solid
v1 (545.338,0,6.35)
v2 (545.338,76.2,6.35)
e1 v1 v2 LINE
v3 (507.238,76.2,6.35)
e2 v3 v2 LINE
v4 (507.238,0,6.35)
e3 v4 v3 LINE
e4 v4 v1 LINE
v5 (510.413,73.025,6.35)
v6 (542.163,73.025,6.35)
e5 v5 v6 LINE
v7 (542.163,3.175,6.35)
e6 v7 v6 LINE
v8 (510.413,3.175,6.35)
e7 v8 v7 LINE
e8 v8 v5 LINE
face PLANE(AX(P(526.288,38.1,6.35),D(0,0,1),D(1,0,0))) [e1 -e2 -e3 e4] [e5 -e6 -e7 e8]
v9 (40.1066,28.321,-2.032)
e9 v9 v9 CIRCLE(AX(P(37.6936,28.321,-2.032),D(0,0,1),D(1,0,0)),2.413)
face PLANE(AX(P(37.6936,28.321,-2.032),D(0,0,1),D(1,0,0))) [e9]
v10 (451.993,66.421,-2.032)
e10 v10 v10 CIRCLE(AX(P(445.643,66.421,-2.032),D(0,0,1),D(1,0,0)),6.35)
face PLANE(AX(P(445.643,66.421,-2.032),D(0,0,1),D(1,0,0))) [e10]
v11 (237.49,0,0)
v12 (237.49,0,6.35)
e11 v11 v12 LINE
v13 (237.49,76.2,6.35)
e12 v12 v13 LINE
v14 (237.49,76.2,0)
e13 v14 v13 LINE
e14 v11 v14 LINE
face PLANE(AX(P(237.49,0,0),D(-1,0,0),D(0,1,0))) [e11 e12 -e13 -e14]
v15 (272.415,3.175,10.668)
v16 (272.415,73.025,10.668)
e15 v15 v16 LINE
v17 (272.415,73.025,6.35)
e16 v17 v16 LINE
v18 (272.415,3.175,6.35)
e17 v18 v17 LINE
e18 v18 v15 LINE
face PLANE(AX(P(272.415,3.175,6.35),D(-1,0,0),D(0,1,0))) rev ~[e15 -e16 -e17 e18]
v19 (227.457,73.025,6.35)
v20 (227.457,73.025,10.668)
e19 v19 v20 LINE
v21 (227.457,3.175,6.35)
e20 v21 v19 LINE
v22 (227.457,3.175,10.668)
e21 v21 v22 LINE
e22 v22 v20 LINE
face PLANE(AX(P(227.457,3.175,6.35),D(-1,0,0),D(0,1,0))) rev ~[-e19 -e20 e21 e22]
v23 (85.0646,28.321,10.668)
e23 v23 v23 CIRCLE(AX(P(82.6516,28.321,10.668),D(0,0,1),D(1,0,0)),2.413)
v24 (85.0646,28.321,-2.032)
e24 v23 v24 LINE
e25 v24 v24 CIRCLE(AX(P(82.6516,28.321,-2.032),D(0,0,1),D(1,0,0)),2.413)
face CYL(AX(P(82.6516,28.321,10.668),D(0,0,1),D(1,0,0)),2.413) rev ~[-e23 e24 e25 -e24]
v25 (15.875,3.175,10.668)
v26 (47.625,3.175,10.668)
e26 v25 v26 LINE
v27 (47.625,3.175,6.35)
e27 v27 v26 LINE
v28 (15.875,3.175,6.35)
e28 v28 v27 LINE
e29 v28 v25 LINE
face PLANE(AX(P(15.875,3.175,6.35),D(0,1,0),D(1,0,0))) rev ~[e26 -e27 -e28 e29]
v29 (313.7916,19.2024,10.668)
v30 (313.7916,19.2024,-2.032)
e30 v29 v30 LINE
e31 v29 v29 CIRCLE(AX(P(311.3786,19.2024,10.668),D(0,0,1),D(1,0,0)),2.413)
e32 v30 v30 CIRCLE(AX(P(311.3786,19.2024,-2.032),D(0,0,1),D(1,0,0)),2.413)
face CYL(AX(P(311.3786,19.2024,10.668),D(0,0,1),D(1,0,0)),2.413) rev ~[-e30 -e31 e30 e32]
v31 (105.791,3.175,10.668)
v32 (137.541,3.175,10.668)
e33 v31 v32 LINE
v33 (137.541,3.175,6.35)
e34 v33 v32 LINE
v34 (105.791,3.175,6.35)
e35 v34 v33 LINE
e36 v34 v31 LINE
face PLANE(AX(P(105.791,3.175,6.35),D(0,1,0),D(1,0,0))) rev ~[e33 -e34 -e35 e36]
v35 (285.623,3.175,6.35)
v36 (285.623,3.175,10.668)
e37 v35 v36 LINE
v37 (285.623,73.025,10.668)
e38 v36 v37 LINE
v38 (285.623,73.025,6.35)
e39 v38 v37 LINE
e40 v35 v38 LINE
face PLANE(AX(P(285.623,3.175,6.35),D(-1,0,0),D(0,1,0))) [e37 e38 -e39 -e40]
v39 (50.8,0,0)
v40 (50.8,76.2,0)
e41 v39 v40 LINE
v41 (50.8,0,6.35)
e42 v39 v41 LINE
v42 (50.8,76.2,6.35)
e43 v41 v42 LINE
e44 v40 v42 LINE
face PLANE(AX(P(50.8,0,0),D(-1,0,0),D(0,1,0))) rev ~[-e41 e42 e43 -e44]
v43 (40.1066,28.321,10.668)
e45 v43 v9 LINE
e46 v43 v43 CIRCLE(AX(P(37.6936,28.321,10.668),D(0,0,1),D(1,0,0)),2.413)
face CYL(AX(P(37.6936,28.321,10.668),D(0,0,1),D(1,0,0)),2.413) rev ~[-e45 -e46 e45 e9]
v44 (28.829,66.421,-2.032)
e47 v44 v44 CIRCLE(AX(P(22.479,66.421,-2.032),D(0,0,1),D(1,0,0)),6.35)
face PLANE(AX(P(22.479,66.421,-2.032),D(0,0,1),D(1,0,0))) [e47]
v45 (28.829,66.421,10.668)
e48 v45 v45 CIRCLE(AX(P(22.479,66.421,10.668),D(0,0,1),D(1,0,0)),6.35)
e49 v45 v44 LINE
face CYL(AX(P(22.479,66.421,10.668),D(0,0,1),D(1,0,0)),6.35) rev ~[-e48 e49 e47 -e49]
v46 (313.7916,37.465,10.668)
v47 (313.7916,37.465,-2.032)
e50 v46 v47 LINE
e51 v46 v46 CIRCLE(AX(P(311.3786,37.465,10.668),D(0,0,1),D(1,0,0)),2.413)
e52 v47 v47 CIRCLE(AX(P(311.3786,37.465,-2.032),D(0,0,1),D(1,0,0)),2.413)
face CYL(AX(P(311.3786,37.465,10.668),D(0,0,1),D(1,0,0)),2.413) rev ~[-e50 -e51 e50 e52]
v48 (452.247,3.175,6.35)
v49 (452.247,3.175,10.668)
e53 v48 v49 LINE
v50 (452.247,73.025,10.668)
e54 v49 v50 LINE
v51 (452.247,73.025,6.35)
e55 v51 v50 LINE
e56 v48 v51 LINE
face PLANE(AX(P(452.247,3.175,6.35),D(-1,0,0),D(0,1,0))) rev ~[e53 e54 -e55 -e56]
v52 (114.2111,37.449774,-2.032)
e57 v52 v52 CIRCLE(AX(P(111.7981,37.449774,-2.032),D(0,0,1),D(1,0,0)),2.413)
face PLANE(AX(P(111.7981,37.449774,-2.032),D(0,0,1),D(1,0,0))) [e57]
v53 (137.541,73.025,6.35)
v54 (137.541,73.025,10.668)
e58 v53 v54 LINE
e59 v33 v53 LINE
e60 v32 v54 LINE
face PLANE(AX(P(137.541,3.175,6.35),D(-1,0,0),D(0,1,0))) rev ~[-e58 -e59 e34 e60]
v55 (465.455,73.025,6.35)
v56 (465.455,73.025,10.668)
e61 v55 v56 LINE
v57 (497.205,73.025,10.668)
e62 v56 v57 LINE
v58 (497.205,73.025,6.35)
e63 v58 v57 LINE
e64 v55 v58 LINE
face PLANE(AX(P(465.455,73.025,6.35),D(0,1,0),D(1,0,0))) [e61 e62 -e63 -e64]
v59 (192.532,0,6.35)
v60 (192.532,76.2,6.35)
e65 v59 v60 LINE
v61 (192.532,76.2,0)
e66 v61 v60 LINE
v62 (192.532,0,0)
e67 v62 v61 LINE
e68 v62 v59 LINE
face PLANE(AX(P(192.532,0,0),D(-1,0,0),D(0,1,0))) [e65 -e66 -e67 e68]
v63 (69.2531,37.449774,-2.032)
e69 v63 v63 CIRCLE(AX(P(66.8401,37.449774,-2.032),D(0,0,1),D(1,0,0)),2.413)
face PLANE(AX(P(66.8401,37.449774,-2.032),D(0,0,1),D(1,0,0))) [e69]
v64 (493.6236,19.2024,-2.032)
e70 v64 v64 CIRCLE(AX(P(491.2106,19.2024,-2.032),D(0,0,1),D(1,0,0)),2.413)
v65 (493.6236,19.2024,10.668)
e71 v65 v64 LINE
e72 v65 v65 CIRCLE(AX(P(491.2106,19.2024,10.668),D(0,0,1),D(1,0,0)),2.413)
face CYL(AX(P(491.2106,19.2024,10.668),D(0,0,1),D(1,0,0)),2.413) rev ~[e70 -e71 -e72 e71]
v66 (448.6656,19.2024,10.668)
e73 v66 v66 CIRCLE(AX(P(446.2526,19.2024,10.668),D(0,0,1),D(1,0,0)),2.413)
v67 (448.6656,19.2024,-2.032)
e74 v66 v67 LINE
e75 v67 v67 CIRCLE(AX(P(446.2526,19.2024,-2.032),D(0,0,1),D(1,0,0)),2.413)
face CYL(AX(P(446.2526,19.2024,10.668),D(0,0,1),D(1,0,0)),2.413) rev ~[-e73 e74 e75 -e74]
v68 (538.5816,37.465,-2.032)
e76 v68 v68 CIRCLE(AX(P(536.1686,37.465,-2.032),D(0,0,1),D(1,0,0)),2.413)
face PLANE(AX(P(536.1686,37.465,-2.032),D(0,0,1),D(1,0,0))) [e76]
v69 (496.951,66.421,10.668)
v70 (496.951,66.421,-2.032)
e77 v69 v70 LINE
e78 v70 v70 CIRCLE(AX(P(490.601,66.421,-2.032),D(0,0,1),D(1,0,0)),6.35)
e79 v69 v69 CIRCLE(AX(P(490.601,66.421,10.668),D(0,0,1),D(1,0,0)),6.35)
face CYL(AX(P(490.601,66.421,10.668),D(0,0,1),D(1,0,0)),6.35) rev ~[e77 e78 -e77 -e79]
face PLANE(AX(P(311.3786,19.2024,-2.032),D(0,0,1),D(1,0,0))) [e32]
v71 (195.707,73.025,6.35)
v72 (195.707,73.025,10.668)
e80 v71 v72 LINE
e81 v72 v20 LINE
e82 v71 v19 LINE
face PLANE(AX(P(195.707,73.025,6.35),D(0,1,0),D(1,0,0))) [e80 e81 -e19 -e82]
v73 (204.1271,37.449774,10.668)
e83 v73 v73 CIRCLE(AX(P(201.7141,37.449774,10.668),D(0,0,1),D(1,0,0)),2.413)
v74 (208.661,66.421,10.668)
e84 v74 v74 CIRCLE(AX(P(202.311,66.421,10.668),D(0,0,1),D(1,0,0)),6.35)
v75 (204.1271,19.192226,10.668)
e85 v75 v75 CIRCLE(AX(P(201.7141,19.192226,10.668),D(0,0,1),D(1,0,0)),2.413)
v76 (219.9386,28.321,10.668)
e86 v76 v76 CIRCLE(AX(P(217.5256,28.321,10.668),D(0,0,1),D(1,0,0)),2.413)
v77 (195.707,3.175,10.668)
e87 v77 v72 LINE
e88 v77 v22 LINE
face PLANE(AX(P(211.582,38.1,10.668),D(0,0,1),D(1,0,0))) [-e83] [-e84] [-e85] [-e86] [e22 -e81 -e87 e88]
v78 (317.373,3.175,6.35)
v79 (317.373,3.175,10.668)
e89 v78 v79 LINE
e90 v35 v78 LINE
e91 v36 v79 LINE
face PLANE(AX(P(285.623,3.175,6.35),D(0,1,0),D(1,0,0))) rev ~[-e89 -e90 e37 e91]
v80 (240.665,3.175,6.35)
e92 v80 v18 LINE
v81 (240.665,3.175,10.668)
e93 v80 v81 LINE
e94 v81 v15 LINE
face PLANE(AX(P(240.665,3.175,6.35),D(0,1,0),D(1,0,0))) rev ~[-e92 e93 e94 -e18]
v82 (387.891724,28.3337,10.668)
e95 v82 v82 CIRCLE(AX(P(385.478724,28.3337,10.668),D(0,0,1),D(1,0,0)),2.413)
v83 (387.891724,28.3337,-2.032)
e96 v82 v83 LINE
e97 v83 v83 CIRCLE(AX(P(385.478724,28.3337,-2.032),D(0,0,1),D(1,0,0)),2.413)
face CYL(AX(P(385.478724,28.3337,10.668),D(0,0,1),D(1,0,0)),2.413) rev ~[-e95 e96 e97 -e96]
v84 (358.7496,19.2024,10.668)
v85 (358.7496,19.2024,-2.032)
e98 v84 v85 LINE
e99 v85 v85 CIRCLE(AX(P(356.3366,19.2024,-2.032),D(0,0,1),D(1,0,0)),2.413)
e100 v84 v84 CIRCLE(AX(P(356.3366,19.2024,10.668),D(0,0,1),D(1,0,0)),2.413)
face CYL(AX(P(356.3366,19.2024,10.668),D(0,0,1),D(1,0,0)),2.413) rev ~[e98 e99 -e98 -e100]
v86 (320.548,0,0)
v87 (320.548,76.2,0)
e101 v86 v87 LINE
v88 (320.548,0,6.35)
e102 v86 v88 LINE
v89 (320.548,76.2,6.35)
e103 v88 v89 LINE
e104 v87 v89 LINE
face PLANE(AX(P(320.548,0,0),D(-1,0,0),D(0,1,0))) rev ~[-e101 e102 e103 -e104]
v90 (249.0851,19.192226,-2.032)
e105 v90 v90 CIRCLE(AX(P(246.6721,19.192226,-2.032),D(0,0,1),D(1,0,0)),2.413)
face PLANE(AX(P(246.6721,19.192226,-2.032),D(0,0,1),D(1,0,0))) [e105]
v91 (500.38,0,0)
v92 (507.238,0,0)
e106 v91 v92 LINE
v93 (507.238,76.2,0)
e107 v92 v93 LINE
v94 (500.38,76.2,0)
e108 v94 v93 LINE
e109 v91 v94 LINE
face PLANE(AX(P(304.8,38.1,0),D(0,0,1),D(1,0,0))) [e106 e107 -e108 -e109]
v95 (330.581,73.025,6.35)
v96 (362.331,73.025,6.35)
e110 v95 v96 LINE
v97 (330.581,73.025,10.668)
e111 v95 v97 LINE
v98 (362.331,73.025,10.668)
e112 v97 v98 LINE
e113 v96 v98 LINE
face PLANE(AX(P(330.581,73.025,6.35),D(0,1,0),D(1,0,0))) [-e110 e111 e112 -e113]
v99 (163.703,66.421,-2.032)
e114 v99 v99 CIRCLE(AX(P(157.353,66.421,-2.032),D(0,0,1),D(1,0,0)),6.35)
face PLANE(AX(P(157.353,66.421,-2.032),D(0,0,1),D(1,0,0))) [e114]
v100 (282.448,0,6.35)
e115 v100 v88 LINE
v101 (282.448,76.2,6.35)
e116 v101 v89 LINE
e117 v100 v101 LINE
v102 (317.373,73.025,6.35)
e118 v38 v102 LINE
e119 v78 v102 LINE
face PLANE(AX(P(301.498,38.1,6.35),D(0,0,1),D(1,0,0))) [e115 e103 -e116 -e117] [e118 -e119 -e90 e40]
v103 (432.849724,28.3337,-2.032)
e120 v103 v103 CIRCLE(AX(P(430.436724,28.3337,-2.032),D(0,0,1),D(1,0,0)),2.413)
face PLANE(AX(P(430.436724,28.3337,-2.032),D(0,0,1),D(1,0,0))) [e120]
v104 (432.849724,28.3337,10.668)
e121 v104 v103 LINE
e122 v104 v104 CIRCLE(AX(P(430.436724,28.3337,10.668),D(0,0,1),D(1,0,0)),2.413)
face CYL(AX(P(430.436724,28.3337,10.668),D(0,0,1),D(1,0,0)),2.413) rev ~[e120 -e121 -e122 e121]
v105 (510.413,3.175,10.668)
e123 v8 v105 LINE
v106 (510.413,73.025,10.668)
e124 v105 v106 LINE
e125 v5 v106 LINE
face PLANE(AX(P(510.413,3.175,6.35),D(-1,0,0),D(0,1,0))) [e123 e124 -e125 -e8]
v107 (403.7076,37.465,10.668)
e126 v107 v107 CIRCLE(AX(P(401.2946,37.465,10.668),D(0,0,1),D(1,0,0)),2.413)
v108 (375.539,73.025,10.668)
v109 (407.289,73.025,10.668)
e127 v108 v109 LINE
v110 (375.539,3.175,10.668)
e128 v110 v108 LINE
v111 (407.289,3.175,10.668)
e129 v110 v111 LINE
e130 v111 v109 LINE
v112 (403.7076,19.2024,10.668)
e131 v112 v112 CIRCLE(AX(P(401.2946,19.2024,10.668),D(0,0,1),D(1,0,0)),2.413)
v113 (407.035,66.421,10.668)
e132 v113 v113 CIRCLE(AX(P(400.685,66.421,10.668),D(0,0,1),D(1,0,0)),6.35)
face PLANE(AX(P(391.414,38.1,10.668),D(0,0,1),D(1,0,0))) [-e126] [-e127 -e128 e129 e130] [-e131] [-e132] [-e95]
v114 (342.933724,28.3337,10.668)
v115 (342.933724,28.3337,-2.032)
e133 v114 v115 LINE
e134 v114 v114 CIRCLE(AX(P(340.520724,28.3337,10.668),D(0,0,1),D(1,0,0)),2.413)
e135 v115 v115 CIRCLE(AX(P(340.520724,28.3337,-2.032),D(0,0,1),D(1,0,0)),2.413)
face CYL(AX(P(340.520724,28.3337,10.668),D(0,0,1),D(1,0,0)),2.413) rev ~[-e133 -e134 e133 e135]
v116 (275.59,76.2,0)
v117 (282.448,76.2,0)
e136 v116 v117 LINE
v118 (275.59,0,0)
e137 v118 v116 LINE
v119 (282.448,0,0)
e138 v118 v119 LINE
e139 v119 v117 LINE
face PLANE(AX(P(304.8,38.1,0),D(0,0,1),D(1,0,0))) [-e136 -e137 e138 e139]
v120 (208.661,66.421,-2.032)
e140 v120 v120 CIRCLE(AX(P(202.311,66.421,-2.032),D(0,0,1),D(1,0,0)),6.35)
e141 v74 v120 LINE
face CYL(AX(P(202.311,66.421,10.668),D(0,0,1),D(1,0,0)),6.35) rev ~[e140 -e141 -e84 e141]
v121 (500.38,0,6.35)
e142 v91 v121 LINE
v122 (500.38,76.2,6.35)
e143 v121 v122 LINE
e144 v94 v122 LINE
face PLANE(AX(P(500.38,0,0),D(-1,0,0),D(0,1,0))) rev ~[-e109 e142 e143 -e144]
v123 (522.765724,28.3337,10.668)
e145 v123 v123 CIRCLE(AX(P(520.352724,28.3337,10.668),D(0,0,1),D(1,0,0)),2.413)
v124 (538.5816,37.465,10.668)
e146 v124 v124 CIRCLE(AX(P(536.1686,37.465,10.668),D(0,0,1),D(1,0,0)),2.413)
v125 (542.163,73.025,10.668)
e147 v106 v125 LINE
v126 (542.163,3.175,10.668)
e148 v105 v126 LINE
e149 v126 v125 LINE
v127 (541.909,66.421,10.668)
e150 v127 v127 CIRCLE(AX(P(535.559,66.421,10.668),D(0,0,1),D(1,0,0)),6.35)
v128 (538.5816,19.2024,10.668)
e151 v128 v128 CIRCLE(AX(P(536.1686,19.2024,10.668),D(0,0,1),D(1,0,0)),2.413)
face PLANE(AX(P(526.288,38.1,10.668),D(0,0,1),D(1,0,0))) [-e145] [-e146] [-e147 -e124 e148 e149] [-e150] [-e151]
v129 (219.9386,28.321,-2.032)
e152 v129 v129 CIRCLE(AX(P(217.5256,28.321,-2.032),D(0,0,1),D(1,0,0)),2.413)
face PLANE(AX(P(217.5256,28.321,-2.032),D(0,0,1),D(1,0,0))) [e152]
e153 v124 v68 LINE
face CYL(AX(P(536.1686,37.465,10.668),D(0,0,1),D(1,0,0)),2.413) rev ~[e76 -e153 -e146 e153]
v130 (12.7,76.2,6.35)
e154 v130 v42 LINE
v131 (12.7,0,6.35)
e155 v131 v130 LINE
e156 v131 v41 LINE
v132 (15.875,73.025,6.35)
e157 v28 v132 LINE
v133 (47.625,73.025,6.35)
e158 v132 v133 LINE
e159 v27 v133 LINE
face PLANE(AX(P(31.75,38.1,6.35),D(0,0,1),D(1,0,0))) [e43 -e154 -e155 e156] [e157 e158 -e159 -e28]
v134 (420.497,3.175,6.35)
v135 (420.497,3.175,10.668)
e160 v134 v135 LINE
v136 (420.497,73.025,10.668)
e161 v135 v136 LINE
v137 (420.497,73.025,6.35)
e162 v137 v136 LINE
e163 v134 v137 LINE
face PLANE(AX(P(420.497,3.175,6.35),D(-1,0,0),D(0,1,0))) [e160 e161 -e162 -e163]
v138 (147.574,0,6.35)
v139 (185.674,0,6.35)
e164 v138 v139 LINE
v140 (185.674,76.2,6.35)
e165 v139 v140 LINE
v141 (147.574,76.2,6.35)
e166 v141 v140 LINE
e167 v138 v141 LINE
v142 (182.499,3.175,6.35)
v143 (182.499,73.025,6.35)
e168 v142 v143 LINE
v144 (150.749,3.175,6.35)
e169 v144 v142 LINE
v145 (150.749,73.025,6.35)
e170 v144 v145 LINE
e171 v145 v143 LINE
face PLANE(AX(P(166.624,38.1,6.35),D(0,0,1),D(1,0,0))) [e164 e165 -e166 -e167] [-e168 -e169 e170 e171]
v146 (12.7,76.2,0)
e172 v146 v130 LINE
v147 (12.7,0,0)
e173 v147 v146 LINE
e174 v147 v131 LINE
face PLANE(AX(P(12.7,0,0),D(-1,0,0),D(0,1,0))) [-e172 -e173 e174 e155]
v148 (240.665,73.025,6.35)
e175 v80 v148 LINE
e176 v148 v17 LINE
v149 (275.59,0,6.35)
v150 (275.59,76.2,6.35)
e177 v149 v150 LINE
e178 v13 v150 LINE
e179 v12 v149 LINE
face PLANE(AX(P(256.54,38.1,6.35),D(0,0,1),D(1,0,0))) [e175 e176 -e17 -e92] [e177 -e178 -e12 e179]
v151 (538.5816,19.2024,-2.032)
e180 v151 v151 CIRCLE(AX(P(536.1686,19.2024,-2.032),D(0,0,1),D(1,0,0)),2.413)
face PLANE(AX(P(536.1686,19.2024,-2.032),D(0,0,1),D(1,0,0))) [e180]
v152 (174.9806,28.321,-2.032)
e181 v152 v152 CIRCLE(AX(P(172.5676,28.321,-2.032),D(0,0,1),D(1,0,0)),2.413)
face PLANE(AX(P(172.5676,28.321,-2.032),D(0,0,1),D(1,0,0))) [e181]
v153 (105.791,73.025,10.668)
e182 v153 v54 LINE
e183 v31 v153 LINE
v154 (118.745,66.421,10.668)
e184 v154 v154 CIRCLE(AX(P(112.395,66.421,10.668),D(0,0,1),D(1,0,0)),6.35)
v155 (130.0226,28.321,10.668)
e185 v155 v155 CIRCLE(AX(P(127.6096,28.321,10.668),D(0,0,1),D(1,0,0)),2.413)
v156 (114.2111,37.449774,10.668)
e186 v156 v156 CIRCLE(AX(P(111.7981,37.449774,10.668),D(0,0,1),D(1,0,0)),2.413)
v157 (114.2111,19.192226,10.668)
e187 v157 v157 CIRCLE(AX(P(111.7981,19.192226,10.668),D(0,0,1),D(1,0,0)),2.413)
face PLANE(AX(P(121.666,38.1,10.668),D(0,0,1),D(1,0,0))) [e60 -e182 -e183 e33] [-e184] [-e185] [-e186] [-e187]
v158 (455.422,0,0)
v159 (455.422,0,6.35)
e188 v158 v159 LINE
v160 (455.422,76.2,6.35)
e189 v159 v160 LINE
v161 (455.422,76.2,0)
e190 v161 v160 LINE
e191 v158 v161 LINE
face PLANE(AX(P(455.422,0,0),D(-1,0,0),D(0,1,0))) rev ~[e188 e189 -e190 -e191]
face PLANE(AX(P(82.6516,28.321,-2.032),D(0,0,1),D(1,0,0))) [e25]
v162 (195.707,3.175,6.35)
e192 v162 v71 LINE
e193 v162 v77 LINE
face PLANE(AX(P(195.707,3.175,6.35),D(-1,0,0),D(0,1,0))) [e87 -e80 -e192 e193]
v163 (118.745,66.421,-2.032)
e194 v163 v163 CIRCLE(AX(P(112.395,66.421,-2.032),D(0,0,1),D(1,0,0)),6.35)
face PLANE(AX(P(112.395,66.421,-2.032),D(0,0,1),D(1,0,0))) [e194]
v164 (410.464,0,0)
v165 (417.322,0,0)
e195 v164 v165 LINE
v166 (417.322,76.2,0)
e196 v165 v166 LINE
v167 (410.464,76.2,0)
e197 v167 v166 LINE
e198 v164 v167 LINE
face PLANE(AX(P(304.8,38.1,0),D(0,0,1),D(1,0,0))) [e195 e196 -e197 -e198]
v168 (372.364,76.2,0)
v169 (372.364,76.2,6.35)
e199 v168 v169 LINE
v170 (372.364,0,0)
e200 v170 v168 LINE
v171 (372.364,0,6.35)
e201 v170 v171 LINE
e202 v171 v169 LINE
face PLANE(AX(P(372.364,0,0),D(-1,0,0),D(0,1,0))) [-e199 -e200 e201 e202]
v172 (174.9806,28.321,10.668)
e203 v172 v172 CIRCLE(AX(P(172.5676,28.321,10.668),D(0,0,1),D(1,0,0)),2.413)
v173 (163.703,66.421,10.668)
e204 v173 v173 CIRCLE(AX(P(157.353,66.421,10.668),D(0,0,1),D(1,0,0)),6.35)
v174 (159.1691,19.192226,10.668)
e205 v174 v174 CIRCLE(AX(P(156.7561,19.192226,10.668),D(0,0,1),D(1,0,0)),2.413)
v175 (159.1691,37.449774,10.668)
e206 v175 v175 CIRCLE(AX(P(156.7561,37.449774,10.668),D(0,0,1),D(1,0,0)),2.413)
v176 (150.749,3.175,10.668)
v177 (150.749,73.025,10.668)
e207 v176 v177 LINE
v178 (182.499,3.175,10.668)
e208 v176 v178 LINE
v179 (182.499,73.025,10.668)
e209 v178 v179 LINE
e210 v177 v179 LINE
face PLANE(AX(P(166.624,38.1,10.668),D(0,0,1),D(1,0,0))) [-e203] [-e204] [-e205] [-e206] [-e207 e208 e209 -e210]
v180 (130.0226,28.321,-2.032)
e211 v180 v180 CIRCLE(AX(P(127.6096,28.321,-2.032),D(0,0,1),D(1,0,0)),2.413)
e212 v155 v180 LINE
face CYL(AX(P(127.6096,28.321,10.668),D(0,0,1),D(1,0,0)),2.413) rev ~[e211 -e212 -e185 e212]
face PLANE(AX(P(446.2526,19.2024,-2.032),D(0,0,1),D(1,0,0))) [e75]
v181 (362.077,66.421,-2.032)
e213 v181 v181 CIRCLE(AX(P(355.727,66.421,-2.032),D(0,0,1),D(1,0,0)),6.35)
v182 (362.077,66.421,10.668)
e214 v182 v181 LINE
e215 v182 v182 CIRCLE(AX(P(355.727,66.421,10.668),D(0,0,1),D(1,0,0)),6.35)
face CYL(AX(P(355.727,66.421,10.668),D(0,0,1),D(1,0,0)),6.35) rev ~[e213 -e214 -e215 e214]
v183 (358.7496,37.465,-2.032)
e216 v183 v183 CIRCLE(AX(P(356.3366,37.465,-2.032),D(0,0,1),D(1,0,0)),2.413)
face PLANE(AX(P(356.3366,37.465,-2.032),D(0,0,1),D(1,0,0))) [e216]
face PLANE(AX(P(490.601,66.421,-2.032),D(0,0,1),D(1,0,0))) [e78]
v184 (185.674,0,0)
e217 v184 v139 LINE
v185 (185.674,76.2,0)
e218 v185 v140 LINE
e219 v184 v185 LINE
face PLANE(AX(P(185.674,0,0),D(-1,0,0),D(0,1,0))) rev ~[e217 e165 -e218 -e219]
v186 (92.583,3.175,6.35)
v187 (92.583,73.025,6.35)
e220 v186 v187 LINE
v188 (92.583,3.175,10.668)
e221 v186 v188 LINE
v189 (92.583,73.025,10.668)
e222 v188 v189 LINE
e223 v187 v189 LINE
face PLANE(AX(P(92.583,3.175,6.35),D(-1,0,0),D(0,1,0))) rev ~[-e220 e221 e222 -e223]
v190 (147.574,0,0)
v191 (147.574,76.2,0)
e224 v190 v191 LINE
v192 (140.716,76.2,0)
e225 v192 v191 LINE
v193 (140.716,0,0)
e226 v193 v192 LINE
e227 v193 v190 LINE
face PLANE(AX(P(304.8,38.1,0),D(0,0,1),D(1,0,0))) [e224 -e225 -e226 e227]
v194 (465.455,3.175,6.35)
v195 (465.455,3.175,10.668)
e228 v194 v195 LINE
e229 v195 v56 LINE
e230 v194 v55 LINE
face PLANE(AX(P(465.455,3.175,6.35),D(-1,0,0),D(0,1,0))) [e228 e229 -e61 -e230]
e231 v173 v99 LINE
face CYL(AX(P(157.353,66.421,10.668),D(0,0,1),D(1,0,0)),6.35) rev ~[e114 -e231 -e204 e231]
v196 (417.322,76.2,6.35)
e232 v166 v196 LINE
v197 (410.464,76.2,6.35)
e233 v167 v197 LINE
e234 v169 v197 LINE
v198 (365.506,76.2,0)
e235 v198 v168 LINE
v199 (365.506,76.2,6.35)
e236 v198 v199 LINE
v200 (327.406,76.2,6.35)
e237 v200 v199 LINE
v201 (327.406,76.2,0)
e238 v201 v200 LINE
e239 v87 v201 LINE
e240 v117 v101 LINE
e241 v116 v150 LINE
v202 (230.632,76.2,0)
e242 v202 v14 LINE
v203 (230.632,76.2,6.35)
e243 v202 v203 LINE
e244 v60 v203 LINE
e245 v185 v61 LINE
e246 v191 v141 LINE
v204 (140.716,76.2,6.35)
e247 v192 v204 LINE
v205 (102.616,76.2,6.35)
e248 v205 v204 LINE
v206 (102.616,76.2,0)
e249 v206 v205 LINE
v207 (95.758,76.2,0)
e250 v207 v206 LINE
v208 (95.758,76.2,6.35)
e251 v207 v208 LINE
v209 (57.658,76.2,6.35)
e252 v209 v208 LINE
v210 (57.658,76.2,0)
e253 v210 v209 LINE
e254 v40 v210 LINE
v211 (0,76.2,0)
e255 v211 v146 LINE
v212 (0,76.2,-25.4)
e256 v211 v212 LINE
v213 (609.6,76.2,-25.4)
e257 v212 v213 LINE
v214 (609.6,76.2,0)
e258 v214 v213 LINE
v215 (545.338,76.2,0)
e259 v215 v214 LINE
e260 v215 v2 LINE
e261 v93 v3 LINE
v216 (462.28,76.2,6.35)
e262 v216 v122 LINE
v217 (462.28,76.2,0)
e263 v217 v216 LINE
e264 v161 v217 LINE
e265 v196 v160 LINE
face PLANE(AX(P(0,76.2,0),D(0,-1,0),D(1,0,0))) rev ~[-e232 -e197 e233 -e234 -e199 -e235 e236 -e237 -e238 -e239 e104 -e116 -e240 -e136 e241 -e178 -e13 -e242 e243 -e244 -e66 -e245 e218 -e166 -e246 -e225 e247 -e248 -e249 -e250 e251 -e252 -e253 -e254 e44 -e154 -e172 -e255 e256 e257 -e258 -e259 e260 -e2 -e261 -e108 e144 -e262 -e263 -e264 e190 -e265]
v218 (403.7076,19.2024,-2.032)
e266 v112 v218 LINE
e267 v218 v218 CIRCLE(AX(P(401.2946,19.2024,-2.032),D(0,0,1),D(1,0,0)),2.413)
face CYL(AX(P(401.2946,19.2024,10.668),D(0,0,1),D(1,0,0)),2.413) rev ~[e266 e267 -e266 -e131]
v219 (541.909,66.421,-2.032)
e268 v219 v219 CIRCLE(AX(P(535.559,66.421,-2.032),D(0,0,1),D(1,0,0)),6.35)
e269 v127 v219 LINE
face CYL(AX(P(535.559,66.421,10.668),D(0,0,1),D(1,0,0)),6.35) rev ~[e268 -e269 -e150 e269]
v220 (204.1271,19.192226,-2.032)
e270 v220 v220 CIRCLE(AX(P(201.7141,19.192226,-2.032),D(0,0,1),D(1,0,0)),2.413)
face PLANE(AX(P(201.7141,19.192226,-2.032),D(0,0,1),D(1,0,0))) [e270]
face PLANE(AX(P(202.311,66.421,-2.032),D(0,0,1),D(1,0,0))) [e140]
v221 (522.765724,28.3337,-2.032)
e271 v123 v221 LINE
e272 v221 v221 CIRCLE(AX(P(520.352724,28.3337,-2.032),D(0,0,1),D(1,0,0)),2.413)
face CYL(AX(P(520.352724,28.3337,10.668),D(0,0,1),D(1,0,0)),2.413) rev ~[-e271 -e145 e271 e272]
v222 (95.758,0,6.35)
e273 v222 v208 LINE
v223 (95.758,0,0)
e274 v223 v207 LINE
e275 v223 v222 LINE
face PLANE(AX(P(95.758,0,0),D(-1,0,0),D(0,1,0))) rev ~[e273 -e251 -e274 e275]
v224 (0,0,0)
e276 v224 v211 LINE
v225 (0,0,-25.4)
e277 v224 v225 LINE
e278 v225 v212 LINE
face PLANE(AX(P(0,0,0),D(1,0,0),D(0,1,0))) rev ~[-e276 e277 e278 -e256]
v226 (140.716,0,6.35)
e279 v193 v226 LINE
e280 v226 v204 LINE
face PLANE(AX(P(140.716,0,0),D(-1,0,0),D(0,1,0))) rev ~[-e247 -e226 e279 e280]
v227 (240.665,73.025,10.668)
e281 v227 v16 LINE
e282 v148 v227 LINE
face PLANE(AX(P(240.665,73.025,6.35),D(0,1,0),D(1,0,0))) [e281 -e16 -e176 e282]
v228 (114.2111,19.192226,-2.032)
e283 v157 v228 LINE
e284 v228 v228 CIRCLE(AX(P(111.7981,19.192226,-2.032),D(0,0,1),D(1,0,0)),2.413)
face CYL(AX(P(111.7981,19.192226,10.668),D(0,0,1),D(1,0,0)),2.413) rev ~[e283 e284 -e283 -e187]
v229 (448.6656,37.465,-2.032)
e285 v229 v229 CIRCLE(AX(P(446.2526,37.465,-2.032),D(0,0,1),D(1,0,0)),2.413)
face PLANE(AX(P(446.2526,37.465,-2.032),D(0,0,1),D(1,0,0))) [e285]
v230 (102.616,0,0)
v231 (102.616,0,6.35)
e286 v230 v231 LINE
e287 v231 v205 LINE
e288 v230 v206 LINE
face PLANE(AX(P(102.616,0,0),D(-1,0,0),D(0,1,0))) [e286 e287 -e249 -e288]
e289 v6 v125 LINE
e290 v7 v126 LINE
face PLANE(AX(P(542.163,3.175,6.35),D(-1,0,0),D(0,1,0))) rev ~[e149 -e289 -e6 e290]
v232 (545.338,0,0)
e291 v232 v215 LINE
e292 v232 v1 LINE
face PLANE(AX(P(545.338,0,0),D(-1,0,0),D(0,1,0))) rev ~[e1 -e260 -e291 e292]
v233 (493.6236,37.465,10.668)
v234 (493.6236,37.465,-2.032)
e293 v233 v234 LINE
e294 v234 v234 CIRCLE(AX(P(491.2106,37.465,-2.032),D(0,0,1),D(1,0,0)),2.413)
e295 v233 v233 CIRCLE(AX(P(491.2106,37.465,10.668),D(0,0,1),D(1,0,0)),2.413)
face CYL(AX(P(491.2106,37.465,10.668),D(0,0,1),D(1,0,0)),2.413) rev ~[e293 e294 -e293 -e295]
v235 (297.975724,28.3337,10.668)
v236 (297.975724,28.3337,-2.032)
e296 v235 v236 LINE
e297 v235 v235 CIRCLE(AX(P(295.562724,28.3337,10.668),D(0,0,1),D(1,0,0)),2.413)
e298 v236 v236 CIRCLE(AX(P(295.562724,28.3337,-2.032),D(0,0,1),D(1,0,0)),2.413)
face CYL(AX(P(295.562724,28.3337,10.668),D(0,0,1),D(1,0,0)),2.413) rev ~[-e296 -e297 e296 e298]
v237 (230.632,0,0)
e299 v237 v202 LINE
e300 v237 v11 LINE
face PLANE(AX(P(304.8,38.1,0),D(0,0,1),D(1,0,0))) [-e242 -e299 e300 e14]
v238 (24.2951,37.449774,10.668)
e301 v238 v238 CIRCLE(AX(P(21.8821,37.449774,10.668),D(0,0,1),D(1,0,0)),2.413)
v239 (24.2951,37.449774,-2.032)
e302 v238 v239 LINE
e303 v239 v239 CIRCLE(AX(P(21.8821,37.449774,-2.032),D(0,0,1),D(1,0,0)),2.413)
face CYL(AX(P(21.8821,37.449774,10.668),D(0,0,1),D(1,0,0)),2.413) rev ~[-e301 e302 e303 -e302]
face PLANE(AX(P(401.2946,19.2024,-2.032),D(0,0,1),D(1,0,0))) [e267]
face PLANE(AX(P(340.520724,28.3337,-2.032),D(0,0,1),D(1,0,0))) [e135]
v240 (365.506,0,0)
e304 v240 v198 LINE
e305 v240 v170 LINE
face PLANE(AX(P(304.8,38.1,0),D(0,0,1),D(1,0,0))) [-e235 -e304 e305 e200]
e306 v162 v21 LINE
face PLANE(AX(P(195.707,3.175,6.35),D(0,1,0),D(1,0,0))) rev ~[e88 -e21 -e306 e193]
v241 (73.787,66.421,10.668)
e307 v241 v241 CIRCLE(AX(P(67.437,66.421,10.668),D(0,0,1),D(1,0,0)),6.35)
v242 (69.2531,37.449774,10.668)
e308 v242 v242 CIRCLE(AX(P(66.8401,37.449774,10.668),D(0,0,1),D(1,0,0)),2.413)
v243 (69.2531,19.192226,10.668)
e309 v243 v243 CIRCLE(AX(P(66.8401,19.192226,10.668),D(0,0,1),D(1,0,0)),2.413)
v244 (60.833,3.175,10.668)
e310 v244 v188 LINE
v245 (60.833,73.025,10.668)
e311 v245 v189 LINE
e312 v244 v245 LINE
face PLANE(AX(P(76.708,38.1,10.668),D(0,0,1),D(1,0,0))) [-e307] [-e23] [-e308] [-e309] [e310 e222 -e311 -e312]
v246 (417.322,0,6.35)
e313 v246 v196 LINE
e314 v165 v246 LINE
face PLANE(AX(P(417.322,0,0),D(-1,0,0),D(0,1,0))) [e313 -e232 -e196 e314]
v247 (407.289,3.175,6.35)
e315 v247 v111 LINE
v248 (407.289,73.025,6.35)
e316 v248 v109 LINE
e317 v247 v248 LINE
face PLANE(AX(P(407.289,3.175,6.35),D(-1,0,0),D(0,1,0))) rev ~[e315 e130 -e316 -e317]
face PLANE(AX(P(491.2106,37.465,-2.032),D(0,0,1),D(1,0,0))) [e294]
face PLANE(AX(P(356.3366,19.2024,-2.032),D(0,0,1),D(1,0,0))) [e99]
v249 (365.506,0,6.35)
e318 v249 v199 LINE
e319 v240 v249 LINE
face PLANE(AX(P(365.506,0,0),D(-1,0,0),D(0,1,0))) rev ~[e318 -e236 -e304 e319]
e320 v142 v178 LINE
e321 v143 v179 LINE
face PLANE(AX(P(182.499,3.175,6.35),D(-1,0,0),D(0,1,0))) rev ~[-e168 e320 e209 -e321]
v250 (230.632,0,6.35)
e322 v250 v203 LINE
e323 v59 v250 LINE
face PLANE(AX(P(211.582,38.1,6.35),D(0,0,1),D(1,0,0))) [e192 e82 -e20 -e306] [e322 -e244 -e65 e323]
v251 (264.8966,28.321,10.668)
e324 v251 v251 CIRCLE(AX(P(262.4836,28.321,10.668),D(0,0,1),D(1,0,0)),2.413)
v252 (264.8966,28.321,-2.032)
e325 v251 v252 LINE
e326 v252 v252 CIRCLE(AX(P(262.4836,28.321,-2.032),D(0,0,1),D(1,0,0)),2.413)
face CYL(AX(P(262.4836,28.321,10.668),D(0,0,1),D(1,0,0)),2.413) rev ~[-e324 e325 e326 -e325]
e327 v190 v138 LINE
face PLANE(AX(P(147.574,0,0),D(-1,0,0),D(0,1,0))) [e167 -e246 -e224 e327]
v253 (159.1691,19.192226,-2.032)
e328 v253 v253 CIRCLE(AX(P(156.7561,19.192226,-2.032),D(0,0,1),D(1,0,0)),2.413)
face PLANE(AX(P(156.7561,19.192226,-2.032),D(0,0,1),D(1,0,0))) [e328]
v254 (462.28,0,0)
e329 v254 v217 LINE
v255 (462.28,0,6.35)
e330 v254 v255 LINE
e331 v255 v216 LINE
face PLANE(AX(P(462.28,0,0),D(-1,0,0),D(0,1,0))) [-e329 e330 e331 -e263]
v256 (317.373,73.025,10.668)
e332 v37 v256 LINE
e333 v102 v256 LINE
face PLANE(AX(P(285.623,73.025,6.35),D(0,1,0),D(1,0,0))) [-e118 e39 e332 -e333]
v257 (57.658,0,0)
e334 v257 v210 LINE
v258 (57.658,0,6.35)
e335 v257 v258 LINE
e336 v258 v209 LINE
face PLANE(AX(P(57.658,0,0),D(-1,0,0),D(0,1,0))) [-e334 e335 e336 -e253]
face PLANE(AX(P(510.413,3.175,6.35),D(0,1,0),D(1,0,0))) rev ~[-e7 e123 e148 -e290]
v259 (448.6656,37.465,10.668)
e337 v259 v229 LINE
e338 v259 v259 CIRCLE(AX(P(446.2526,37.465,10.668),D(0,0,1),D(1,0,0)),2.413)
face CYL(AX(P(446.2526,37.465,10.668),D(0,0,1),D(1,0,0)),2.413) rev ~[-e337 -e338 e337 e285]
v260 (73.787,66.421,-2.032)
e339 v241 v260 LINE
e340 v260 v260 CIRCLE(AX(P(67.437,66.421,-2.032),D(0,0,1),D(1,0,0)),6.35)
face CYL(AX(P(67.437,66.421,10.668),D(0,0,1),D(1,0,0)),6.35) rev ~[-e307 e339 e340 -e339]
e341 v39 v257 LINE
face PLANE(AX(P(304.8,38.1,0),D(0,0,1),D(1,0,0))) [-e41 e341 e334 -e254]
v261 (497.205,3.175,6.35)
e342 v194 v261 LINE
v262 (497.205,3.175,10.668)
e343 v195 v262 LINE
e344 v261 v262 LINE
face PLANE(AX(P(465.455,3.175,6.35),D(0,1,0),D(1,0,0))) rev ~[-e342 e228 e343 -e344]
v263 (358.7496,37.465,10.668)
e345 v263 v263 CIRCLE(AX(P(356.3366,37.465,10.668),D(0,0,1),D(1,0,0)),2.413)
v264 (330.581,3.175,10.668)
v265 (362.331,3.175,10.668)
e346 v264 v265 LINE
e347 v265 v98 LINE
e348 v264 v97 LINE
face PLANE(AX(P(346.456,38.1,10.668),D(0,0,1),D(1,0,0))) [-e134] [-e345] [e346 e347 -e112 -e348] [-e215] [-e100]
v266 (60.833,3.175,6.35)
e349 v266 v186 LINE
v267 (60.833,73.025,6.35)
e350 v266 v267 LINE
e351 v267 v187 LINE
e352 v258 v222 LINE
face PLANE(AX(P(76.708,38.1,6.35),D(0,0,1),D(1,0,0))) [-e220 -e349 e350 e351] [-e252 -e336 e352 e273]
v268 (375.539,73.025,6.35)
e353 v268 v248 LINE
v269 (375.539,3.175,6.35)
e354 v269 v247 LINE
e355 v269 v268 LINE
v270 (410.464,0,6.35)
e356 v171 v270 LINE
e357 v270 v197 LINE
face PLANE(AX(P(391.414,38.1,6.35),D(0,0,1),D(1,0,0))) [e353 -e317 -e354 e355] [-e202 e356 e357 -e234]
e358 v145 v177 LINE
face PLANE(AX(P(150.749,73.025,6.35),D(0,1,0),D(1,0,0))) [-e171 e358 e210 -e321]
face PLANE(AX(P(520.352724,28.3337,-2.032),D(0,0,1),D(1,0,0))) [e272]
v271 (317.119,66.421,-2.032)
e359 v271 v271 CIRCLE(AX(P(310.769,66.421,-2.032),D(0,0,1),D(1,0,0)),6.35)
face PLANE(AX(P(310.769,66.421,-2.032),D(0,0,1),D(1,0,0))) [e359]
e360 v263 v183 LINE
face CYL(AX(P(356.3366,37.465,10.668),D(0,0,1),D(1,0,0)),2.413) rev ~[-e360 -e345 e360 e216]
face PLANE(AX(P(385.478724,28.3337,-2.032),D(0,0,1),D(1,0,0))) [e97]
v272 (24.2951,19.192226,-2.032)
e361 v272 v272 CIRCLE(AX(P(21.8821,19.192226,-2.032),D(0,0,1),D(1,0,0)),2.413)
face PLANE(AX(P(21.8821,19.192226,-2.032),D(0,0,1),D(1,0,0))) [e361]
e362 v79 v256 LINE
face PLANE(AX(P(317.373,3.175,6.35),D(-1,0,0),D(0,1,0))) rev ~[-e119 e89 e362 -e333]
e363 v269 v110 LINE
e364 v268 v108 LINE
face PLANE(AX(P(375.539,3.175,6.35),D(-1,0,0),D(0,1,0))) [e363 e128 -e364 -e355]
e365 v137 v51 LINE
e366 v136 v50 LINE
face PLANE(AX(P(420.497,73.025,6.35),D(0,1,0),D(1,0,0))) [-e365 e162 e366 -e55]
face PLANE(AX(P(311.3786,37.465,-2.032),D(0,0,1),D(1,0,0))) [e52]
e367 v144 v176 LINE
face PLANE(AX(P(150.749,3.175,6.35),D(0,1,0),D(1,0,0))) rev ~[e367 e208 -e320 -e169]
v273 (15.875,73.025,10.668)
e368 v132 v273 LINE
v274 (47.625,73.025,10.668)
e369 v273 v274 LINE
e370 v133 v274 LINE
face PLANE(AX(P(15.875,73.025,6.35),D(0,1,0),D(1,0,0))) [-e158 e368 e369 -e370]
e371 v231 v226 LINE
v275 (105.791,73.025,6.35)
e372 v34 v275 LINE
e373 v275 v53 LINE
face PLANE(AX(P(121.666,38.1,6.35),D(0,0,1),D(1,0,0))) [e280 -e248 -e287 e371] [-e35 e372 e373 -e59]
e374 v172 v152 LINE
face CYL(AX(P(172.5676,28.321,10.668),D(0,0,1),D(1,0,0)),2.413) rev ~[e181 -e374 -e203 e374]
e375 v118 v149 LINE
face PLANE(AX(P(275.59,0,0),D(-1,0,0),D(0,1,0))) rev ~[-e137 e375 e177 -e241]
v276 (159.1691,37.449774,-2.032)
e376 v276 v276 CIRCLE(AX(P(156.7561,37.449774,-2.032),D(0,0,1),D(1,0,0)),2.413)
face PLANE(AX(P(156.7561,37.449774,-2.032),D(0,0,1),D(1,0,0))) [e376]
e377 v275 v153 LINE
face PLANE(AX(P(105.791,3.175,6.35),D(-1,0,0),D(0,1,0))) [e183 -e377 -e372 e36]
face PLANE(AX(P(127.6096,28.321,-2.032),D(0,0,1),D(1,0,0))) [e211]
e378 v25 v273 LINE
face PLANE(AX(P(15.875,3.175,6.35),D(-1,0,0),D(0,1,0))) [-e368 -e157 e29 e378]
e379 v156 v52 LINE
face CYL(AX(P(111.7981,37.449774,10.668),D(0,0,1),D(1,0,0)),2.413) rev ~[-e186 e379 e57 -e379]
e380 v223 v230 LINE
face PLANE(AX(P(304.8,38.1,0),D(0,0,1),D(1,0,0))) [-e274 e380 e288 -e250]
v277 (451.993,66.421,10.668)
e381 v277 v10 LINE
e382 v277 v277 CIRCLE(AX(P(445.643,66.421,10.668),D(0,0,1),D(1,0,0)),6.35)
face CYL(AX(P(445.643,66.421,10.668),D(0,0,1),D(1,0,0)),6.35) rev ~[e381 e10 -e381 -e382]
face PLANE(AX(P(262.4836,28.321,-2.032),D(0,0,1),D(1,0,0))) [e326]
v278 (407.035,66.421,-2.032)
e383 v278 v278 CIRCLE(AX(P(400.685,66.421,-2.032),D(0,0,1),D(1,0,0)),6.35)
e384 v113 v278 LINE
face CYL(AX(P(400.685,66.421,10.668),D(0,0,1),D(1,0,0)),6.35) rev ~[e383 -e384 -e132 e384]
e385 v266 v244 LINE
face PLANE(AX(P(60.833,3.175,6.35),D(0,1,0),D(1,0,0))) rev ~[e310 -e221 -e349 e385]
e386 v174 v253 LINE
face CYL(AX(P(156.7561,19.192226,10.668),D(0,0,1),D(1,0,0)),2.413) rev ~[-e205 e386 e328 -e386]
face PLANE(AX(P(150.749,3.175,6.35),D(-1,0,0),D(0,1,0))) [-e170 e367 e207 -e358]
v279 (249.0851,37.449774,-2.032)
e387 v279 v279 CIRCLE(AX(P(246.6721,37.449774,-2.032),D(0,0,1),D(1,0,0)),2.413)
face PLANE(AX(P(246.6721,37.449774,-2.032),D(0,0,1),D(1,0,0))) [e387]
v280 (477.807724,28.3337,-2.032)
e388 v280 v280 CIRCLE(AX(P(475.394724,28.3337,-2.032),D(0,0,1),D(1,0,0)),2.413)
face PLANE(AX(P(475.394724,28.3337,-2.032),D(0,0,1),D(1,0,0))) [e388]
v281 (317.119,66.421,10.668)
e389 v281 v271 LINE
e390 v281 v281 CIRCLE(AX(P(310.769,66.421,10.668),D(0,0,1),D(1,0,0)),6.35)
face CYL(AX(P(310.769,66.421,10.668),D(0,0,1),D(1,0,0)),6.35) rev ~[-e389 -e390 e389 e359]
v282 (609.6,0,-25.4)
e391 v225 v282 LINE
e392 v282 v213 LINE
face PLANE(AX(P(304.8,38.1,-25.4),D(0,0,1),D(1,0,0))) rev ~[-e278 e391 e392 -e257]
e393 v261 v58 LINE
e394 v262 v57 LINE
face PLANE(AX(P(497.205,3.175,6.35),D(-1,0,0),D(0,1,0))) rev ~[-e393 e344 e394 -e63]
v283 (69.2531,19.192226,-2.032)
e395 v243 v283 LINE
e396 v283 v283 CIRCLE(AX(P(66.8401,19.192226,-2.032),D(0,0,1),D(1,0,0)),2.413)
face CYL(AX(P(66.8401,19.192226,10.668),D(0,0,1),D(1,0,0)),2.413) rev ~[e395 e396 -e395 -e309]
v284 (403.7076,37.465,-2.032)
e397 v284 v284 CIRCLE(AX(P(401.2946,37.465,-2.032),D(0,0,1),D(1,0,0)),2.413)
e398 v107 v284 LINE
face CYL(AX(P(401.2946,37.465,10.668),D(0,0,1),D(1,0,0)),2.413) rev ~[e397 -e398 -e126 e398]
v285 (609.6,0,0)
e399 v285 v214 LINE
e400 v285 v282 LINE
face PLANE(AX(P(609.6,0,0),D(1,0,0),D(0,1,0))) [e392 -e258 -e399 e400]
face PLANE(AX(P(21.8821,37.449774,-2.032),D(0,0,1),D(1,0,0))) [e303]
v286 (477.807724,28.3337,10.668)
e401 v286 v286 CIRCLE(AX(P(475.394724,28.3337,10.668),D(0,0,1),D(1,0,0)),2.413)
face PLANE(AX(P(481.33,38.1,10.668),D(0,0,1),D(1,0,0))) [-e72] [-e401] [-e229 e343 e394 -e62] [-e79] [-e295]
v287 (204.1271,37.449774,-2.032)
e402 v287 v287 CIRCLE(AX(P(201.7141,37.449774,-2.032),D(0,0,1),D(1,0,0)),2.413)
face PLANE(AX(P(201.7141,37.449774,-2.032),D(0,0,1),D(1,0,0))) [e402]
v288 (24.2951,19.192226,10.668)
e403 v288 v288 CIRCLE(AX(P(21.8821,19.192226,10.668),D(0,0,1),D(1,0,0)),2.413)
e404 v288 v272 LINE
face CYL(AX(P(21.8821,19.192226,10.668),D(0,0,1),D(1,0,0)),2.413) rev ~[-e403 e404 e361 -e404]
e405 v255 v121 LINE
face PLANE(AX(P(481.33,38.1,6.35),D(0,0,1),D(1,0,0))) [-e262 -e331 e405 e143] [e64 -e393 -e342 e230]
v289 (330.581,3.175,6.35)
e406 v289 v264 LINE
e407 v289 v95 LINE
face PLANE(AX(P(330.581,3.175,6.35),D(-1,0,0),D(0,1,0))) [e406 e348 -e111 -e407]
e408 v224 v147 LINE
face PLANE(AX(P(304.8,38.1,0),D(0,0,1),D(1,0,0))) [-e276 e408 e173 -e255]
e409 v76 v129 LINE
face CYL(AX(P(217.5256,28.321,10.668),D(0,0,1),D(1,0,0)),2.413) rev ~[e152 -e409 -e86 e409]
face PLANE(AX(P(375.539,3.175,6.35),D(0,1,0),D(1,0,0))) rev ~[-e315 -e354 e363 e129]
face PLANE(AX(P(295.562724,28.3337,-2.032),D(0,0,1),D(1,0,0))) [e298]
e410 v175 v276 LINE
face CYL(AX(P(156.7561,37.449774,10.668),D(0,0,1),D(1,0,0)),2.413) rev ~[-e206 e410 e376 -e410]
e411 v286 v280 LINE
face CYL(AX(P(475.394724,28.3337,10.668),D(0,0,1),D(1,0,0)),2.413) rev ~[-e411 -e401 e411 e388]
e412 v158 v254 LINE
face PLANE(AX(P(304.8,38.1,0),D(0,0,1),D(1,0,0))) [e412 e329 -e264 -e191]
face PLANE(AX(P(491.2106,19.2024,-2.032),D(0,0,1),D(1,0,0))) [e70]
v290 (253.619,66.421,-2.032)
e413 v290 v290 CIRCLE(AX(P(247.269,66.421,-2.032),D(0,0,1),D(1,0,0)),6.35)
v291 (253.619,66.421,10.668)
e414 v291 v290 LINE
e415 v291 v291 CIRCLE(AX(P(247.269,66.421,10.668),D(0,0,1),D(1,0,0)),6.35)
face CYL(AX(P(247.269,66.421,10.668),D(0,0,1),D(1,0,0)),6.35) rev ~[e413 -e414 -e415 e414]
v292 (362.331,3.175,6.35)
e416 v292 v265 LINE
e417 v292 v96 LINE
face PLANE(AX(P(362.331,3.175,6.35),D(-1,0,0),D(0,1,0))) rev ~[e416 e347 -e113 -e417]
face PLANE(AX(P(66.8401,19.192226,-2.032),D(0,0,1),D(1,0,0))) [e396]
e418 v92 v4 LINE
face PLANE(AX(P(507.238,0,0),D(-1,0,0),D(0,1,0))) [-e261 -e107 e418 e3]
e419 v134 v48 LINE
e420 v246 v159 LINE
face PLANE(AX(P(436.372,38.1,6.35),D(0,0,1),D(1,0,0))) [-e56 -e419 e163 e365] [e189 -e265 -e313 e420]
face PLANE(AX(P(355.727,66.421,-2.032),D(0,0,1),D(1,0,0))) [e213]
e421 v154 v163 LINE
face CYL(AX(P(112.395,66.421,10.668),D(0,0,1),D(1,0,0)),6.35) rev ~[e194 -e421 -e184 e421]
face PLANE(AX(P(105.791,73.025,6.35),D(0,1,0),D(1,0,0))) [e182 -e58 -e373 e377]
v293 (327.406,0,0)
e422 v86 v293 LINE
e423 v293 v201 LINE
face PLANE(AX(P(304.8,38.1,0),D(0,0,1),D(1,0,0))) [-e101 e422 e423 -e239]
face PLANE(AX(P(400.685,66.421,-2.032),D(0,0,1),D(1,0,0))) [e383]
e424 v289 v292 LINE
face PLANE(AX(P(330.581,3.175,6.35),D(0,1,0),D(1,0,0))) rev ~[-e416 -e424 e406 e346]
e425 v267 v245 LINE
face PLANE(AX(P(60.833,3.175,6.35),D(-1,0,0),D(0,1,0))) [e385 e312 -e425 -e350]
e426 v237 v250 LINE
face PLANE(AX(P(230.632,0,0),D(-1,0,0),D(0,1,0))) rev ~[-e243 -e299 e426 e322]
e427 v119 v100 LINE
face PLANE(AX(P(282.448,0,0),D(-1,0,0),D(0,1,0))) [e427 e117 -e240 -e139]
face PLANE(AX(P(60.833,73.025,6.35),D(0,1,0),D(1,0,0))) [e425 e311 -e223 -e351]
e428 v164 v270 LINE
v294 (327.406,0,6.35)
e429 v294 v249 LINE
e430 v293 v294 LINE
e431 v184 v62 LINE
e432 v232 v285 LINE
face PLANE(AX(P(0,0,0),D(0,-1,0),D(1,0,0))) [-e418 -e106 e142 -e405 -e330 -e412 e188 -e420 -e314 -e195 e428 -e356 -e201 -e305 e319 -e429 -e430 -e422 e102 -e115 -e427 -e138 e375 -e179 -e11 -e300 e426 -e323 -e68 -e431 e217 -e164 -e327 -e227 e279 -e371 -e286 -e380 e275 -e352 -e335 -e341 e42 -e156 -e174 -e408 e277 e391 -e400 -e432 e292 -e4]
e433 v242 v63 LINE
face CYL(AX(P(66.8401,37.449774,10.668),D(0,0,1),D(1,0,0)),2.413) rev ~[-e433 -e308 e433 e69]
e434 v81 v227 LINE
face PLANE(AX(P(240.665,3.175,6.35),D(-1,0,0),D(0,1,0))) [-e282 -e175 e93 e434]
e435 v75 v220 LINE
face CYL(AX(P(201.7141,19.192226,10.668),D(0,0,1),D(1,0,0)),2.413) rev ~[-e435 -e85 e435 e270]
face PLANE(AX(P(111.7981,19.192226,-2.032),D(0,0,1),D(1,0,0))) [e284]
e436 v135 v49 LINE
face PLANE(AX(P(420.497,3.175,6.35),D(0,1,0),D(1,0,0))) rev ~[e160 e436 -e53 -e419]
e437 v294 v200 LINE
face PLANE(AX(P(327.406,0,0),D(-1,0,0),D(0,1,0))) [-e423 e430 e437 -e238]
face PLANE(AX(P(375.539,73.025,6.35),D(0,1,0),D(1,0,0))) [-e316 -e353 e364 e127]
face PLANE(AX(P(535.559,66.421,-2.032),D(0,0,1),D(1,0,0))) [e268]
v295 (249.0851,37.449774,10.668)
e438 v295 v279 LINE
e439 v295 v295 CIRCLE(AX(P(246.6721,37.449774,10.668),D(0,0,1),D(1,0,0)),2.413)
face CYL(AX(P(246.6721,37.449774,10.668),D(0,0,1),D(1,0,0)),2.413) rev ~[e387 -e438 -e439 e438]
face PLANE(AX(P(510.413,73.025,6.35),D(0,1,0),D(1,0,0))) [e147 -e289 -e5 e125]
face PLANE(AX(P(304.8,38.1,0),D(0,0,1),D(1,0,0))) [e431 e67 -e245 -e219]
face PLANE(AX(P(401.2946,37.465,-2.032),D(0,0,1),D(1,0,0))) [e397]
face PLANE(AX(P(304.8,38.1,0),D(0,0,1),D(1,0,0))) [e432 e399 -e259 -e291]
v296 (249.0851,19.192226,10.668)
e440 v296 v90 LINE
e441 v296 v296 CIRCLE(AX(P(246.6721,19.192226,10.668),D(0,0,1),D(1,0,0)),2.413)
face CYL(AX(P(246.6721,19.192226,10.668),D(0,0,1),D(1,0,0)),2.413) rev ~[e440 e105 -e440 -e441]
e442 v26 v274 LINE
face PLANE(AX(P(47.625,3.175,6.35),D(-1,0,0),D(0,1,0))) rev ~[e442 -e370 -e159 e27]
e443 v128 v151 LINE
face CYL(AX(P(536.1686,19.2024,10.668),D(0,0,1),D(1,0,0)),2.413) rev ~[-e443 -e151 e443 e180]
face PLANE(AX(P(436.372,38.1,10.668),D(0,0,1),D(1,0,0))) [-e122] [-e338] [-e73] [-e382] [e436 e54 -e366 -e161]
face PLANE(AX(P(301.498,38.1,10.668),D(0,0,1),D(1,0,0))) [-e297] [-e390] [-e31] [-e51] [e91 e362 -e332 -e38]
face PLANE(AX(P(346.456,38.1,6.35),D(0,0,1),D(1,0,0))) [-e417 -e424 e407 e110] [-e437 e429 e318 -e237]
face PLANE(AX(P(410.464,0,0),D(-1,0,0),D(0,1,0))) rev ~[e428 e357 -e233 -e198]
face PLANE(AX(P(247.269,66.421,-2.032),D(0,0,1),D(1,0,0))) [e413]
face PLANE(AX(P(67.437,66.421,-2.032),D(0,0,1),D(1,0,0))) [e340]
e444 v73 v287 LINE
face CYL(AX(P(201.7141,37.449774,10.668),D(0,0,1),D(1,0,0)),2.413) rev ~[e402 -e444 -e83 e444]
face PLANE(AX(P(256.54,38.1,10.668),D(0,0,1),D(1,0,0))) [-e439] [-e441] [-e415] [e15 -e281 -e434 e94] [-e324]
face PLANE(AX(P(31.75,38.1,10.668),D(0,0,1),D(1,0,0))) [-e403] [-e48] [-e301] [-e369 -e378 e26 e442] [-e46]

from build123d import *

# Parameters (mm, degrees)
F1_W     = 38.1
F1_H     = 76.2
F2_DEPTH = 6.35
F0_W     = 609.6
F0_H     = 76.2
F3_DEPTH = 25.4
F4_W     = 31.75
F4_H     = 69.85
F5_DEPTH = 4.318
F6_R     = 6.35
F6_R_2   = 2.413
F7_DEPTH = 12.7


with BuildPart() as f2:
    # F1 (on face) → F2 (new body)
    with BuildSketch(Plane.XY):
        with Locations((31.75, 38.1)):
            Rectangle(F1_W, F1_H)
    extrude(amount=F2_DEPTH)



with BuildPart() as f2b:
    # F1 (on face) → F2, piece 2 (new body)
    with BuildSketch(Plane.XY):
        with Locations((76.708, 38.1)):
            Rectangle(F1_W, F1_H)
    extrude(amount=F2_DEPTH)


with BuildPart() as f2c:
    # F1 (on face) → F2, piece 3 (new body)
    with BuildSketch(Plane.XY):
        with Locations((121.666, 38.1)):
            Rectangle(F1_W, F1_H)
    extrude(amount=F2_DEPTH)


with BuildPart() as f2d:
    # F1 (on face) → F2, piece 4 (new body)
    with BuildSketch(Plane.XY):
        with Locations((166.624, 38.1)):
            Rectangle(F1_W, F1_H)
    extrude(amount=F2_DEPTH)


with BuildPart() as f2e:
    # F1 (on face) → F2, piece 5 (new body)
    with BuildSketch(Plane.XY):
        with Locations((211.582, 38.1)):
            Rectangle(F1_W, F1_H)
    extrude(amount=F2_DEPTH)


with BuildPart() as f2f:
    # F1 (on face) → F2, piece 6 (new body)
    with BuildSketch(Plane.XY):
        with Locations((256.54, 38.1)):
            Rectangle(F1_W, F1_H)
    extrude(amount=F2_DEPTH)


with BuildPart() as f2g:
    # F1 (on face) → F2, piece 7 (new body)
    with BuildSketch(Plane.XY):
        with Locations((301.498, 38.1)):
            Rectangle(F1_W, F1_H)
    extrude(amount=F2_DEPTH)


with BuildPart() as f2h:
    # F1 (on face) → F2, piece 8 (new body)
    with BuildSketch(Plane.XY):
        with Locations((346.456, 38.1)):
            Rectangle(F1_W, F1_H)
    extrude(amount=F2_DEPTH)


with BuildPart() as f2i:
    # F1 (on face) → F2, piece 9 (new body)
    with BuildSketch(Plane.XY):
        with Locations((391.414, 38.1)):
            Rectangle(F1_W, F1_H)
    extrude(amount=F2_DEPTH)


with BuildPart() as f2j:
    # F1 (on face) → F2, piece 10 (new body)
    with BuildSketch(Plane.XY):
        with Locations((436.372, 38.1)):
            Rectangle(F1_W, F1_H)
    extrude(amount=F2_DEPTH)


with BuildPart() as f2k:
    # F1 (on face) → F2, piece 11 (new body)
    with BuildSketch(Plane.XY):
        with Locations((481.33, 38.1)):
            Rectangle(F1_W, F1_H)
    extrude(amount=F2_DEPTH)


with BuildPart() as f2l:
    # F1 (on face) → F2, piece 12 (new body)
    with BuildSketch(Plane.XY):
        with Locations((526.288, 38.1)):
            Rectangle(F1_W, F1_H)
    extrude(amount=F2_DEPTH)


with BuildPart() as f2_1:
    add(f2.part)

    add(f2b.part)  # F3 merges F2b

    add(f2c.part)  # F3 merges F2c

    add(f2d.part)  # F3 merges F2d

    add(f2e.part)  # F3 merges F2e

    add(f2f.part)  # F3 merges F2f

    add(f2g.part)  # F3 merges F2g

    add(f2h.part)  # F3 merges F2h

    add(f2i.part)  # F3 merges F2i

    add(f2j.part)  # F3 merges F2j

    add(f2k.part)  # F3 merges F2k

    add(f2l.part)  # F3 merges F2l
    # F0 (on Top) → F3 (join)
    with BuildSketch(Plane.XY):
        with Locations((304.8, 38.1)):
            Rectangle(F0_W, F0_H)
    extrude(amount=-F3_DEPTH)

    # F4 (on face) → F5 (join)
    with BuildSketch(Plane.XY.offset(6.35)):
        with Locations((31.75, 38.1)):
            Rectangle(F4_W, F4_H)
        with Locations((76.708, 38.1)):
            Rectangle(F4_W, F4_H)
        with Locations((121.666, 38.1)):
            Rectangle(F4_W, F4_H)
        with Locations((166.624, 38.1)):
            Rectangle(F4_W, F4_H)
        with Locations((211.582, 38.1)):
            Rectangle(F4_W, F4_H)
        with Locations((256.54, 38.1)):
            Rectangle(F4_W, F4_H)
        with Locations((301.498, 38.1)):
            Rectangle(F4_W, F4_H)
        with Locations((346.456, 38.1)):
            Rectangle(F4_W, F4_H)
        with Locations((391.414, 38.1)):
            Rectangle(F4_W, F4_H)
        with Locations((436.372, 38.1)):
            Rectangle(F4_W, F4_H)
        with Locations((481.33, 38.1)):
            Rectangle(F4_W, F4_H)
        with Locations((526.288, 38.1)):
            Rectangle(F4_W, F4_H)
    extrude(amount=F5_DEPTH)

    # F6 (on face) → F7 (cut)
    with BuildSketch(Plane.XY.offset(10.668)):
        with Locations((22.479, 66.421)):
            Circle(F6_R)
        with Locations((67.437, 66.421)):
            Circle(F6_R)
        with Locations((112.395, 66.421)):
            Circle(F6_R)
        with Locations((157.353, 66.421)):
            Circle(F6_R)
        with Locations((202.311, 66.421)):
            Circle(F6_R)
        with Locations((247.269, 66.421)):
            Circle(F6_R)
        with Locations((310.769, 66.421)):
            Circle(F6_R)
        with Locations((355.727, 66.421)):
            Circle(F6_R)
        with Locations((400.685, 66.421)):
            Circle(F6_R)
        with Locations((445.643, 66.421)):
            Circle(F6_R)
        with Locations((490.601, 66.421)):
            Circle(F6_R)
        with Locations((535.559, 66.421)):
            Circle(F6_R)
        with Locations((21.8821, 37.4497737813)):
            Circle(F6_R_2)
        with Locations((21.8821, 19.1922262187)):
            Circle(F6_R_2)
        with Locations((37.6936, 28.321)):
            Circle(F6_R_2)
        with Locations((66.8401, 37.4497737813)):
            Circle(F6_R_2)
        with Locations((82.6516, 28.321)):
            Circle(F6_R_2)
        with Locations((66.8401, 19.1922262187)):
            Circle(F6_R_2)
        with Locations((111.7981, 37.4497737813)):
            Circle(F6_R_2)
        with Locations((127.6096, 28.321)):
            Circle(F6_R_2)
        with Locations((111.7981, 19.1922262187)):
            Circle(F6_R_2)
        with Locations((156.7561, 37.4497737813)):
            Circle(F6_R_2)
        with Locations((172.5676, 28.321)):
            Circle(F6_R_2)
        with Locations((156.7561, 19.1922262187)):
            Circle(F6_R_2)
        with Locations((201.7141, 37.4497737813)):
            Circle(F6_R_2)
        with Locations((217.5256, 28.321)):
            Circle(F6_R_2)
        with Locations((201.7141, 19.1922262187)):
            Circle(F6_R_2)
        with Locations((246.6721, 37.4497737813)):
            Circle(F6_R_2)
        with Locations((262.4836, 28.321)):
            Circle(F6_R_2)
        with Locations((246.6721, 19.1922262187)):
            Circle(F6_R_2)
        with Locations((311.3786, 37.465)):
            Circle(F6_R_2)
        with Locations((311.3786, 19.2024)):
            Circle(F6_R_2)
        with Locations((295.5627244608, 28.3337)):
            Circle(F6_R_2)
        with Locations((340.5207244608, 28.3337)):
            Circle(F6_R_2)
        with Locations((356.3366, 19.2024)):
            Circle(F6_R_2)
        with Locations((356.3366, 37.465)):
            Circle(F6_R_2)
        with Locations((385.4787244608, 28.3337)):
            Circle(F6_R_2)
        with Locations((401.2946, 19.2024)):
            Circle(F6_R_2)
        with Locations((401.2946, 37.465)):
            Circle(F6_R_2)
        with Locations((430.4367244608, 28.3337)):
            Circle(F6_R_2)
        with Locations((446.2526, 19.2024)):
            Circle(F6_R_2)
        with Locations((446.2526, 37.465)):
            Circle(F6_R_2)
        with Locations((475.3947244608, 28.3337)):
            Circle(F6_R_2)
        with Locations((491.2106, 19.2024)):
            Circle(F6_R_2)
        with Locations((491.2106, 37.465)):
            Circle(F6_R_2)
        with Locations((520.3527244608, 28.3337)):
            Circle(F6_R_2)
        with Locations((536.1686, 19.2024)):
            Circle(F6_R_2)
        with Locations((536.1686, 37.465)):
            Circle(F6_R_2)
    extrude(amount=-F7_DEPTH, mode=Mode.SUBTRACT)


solid = f2_1.part
